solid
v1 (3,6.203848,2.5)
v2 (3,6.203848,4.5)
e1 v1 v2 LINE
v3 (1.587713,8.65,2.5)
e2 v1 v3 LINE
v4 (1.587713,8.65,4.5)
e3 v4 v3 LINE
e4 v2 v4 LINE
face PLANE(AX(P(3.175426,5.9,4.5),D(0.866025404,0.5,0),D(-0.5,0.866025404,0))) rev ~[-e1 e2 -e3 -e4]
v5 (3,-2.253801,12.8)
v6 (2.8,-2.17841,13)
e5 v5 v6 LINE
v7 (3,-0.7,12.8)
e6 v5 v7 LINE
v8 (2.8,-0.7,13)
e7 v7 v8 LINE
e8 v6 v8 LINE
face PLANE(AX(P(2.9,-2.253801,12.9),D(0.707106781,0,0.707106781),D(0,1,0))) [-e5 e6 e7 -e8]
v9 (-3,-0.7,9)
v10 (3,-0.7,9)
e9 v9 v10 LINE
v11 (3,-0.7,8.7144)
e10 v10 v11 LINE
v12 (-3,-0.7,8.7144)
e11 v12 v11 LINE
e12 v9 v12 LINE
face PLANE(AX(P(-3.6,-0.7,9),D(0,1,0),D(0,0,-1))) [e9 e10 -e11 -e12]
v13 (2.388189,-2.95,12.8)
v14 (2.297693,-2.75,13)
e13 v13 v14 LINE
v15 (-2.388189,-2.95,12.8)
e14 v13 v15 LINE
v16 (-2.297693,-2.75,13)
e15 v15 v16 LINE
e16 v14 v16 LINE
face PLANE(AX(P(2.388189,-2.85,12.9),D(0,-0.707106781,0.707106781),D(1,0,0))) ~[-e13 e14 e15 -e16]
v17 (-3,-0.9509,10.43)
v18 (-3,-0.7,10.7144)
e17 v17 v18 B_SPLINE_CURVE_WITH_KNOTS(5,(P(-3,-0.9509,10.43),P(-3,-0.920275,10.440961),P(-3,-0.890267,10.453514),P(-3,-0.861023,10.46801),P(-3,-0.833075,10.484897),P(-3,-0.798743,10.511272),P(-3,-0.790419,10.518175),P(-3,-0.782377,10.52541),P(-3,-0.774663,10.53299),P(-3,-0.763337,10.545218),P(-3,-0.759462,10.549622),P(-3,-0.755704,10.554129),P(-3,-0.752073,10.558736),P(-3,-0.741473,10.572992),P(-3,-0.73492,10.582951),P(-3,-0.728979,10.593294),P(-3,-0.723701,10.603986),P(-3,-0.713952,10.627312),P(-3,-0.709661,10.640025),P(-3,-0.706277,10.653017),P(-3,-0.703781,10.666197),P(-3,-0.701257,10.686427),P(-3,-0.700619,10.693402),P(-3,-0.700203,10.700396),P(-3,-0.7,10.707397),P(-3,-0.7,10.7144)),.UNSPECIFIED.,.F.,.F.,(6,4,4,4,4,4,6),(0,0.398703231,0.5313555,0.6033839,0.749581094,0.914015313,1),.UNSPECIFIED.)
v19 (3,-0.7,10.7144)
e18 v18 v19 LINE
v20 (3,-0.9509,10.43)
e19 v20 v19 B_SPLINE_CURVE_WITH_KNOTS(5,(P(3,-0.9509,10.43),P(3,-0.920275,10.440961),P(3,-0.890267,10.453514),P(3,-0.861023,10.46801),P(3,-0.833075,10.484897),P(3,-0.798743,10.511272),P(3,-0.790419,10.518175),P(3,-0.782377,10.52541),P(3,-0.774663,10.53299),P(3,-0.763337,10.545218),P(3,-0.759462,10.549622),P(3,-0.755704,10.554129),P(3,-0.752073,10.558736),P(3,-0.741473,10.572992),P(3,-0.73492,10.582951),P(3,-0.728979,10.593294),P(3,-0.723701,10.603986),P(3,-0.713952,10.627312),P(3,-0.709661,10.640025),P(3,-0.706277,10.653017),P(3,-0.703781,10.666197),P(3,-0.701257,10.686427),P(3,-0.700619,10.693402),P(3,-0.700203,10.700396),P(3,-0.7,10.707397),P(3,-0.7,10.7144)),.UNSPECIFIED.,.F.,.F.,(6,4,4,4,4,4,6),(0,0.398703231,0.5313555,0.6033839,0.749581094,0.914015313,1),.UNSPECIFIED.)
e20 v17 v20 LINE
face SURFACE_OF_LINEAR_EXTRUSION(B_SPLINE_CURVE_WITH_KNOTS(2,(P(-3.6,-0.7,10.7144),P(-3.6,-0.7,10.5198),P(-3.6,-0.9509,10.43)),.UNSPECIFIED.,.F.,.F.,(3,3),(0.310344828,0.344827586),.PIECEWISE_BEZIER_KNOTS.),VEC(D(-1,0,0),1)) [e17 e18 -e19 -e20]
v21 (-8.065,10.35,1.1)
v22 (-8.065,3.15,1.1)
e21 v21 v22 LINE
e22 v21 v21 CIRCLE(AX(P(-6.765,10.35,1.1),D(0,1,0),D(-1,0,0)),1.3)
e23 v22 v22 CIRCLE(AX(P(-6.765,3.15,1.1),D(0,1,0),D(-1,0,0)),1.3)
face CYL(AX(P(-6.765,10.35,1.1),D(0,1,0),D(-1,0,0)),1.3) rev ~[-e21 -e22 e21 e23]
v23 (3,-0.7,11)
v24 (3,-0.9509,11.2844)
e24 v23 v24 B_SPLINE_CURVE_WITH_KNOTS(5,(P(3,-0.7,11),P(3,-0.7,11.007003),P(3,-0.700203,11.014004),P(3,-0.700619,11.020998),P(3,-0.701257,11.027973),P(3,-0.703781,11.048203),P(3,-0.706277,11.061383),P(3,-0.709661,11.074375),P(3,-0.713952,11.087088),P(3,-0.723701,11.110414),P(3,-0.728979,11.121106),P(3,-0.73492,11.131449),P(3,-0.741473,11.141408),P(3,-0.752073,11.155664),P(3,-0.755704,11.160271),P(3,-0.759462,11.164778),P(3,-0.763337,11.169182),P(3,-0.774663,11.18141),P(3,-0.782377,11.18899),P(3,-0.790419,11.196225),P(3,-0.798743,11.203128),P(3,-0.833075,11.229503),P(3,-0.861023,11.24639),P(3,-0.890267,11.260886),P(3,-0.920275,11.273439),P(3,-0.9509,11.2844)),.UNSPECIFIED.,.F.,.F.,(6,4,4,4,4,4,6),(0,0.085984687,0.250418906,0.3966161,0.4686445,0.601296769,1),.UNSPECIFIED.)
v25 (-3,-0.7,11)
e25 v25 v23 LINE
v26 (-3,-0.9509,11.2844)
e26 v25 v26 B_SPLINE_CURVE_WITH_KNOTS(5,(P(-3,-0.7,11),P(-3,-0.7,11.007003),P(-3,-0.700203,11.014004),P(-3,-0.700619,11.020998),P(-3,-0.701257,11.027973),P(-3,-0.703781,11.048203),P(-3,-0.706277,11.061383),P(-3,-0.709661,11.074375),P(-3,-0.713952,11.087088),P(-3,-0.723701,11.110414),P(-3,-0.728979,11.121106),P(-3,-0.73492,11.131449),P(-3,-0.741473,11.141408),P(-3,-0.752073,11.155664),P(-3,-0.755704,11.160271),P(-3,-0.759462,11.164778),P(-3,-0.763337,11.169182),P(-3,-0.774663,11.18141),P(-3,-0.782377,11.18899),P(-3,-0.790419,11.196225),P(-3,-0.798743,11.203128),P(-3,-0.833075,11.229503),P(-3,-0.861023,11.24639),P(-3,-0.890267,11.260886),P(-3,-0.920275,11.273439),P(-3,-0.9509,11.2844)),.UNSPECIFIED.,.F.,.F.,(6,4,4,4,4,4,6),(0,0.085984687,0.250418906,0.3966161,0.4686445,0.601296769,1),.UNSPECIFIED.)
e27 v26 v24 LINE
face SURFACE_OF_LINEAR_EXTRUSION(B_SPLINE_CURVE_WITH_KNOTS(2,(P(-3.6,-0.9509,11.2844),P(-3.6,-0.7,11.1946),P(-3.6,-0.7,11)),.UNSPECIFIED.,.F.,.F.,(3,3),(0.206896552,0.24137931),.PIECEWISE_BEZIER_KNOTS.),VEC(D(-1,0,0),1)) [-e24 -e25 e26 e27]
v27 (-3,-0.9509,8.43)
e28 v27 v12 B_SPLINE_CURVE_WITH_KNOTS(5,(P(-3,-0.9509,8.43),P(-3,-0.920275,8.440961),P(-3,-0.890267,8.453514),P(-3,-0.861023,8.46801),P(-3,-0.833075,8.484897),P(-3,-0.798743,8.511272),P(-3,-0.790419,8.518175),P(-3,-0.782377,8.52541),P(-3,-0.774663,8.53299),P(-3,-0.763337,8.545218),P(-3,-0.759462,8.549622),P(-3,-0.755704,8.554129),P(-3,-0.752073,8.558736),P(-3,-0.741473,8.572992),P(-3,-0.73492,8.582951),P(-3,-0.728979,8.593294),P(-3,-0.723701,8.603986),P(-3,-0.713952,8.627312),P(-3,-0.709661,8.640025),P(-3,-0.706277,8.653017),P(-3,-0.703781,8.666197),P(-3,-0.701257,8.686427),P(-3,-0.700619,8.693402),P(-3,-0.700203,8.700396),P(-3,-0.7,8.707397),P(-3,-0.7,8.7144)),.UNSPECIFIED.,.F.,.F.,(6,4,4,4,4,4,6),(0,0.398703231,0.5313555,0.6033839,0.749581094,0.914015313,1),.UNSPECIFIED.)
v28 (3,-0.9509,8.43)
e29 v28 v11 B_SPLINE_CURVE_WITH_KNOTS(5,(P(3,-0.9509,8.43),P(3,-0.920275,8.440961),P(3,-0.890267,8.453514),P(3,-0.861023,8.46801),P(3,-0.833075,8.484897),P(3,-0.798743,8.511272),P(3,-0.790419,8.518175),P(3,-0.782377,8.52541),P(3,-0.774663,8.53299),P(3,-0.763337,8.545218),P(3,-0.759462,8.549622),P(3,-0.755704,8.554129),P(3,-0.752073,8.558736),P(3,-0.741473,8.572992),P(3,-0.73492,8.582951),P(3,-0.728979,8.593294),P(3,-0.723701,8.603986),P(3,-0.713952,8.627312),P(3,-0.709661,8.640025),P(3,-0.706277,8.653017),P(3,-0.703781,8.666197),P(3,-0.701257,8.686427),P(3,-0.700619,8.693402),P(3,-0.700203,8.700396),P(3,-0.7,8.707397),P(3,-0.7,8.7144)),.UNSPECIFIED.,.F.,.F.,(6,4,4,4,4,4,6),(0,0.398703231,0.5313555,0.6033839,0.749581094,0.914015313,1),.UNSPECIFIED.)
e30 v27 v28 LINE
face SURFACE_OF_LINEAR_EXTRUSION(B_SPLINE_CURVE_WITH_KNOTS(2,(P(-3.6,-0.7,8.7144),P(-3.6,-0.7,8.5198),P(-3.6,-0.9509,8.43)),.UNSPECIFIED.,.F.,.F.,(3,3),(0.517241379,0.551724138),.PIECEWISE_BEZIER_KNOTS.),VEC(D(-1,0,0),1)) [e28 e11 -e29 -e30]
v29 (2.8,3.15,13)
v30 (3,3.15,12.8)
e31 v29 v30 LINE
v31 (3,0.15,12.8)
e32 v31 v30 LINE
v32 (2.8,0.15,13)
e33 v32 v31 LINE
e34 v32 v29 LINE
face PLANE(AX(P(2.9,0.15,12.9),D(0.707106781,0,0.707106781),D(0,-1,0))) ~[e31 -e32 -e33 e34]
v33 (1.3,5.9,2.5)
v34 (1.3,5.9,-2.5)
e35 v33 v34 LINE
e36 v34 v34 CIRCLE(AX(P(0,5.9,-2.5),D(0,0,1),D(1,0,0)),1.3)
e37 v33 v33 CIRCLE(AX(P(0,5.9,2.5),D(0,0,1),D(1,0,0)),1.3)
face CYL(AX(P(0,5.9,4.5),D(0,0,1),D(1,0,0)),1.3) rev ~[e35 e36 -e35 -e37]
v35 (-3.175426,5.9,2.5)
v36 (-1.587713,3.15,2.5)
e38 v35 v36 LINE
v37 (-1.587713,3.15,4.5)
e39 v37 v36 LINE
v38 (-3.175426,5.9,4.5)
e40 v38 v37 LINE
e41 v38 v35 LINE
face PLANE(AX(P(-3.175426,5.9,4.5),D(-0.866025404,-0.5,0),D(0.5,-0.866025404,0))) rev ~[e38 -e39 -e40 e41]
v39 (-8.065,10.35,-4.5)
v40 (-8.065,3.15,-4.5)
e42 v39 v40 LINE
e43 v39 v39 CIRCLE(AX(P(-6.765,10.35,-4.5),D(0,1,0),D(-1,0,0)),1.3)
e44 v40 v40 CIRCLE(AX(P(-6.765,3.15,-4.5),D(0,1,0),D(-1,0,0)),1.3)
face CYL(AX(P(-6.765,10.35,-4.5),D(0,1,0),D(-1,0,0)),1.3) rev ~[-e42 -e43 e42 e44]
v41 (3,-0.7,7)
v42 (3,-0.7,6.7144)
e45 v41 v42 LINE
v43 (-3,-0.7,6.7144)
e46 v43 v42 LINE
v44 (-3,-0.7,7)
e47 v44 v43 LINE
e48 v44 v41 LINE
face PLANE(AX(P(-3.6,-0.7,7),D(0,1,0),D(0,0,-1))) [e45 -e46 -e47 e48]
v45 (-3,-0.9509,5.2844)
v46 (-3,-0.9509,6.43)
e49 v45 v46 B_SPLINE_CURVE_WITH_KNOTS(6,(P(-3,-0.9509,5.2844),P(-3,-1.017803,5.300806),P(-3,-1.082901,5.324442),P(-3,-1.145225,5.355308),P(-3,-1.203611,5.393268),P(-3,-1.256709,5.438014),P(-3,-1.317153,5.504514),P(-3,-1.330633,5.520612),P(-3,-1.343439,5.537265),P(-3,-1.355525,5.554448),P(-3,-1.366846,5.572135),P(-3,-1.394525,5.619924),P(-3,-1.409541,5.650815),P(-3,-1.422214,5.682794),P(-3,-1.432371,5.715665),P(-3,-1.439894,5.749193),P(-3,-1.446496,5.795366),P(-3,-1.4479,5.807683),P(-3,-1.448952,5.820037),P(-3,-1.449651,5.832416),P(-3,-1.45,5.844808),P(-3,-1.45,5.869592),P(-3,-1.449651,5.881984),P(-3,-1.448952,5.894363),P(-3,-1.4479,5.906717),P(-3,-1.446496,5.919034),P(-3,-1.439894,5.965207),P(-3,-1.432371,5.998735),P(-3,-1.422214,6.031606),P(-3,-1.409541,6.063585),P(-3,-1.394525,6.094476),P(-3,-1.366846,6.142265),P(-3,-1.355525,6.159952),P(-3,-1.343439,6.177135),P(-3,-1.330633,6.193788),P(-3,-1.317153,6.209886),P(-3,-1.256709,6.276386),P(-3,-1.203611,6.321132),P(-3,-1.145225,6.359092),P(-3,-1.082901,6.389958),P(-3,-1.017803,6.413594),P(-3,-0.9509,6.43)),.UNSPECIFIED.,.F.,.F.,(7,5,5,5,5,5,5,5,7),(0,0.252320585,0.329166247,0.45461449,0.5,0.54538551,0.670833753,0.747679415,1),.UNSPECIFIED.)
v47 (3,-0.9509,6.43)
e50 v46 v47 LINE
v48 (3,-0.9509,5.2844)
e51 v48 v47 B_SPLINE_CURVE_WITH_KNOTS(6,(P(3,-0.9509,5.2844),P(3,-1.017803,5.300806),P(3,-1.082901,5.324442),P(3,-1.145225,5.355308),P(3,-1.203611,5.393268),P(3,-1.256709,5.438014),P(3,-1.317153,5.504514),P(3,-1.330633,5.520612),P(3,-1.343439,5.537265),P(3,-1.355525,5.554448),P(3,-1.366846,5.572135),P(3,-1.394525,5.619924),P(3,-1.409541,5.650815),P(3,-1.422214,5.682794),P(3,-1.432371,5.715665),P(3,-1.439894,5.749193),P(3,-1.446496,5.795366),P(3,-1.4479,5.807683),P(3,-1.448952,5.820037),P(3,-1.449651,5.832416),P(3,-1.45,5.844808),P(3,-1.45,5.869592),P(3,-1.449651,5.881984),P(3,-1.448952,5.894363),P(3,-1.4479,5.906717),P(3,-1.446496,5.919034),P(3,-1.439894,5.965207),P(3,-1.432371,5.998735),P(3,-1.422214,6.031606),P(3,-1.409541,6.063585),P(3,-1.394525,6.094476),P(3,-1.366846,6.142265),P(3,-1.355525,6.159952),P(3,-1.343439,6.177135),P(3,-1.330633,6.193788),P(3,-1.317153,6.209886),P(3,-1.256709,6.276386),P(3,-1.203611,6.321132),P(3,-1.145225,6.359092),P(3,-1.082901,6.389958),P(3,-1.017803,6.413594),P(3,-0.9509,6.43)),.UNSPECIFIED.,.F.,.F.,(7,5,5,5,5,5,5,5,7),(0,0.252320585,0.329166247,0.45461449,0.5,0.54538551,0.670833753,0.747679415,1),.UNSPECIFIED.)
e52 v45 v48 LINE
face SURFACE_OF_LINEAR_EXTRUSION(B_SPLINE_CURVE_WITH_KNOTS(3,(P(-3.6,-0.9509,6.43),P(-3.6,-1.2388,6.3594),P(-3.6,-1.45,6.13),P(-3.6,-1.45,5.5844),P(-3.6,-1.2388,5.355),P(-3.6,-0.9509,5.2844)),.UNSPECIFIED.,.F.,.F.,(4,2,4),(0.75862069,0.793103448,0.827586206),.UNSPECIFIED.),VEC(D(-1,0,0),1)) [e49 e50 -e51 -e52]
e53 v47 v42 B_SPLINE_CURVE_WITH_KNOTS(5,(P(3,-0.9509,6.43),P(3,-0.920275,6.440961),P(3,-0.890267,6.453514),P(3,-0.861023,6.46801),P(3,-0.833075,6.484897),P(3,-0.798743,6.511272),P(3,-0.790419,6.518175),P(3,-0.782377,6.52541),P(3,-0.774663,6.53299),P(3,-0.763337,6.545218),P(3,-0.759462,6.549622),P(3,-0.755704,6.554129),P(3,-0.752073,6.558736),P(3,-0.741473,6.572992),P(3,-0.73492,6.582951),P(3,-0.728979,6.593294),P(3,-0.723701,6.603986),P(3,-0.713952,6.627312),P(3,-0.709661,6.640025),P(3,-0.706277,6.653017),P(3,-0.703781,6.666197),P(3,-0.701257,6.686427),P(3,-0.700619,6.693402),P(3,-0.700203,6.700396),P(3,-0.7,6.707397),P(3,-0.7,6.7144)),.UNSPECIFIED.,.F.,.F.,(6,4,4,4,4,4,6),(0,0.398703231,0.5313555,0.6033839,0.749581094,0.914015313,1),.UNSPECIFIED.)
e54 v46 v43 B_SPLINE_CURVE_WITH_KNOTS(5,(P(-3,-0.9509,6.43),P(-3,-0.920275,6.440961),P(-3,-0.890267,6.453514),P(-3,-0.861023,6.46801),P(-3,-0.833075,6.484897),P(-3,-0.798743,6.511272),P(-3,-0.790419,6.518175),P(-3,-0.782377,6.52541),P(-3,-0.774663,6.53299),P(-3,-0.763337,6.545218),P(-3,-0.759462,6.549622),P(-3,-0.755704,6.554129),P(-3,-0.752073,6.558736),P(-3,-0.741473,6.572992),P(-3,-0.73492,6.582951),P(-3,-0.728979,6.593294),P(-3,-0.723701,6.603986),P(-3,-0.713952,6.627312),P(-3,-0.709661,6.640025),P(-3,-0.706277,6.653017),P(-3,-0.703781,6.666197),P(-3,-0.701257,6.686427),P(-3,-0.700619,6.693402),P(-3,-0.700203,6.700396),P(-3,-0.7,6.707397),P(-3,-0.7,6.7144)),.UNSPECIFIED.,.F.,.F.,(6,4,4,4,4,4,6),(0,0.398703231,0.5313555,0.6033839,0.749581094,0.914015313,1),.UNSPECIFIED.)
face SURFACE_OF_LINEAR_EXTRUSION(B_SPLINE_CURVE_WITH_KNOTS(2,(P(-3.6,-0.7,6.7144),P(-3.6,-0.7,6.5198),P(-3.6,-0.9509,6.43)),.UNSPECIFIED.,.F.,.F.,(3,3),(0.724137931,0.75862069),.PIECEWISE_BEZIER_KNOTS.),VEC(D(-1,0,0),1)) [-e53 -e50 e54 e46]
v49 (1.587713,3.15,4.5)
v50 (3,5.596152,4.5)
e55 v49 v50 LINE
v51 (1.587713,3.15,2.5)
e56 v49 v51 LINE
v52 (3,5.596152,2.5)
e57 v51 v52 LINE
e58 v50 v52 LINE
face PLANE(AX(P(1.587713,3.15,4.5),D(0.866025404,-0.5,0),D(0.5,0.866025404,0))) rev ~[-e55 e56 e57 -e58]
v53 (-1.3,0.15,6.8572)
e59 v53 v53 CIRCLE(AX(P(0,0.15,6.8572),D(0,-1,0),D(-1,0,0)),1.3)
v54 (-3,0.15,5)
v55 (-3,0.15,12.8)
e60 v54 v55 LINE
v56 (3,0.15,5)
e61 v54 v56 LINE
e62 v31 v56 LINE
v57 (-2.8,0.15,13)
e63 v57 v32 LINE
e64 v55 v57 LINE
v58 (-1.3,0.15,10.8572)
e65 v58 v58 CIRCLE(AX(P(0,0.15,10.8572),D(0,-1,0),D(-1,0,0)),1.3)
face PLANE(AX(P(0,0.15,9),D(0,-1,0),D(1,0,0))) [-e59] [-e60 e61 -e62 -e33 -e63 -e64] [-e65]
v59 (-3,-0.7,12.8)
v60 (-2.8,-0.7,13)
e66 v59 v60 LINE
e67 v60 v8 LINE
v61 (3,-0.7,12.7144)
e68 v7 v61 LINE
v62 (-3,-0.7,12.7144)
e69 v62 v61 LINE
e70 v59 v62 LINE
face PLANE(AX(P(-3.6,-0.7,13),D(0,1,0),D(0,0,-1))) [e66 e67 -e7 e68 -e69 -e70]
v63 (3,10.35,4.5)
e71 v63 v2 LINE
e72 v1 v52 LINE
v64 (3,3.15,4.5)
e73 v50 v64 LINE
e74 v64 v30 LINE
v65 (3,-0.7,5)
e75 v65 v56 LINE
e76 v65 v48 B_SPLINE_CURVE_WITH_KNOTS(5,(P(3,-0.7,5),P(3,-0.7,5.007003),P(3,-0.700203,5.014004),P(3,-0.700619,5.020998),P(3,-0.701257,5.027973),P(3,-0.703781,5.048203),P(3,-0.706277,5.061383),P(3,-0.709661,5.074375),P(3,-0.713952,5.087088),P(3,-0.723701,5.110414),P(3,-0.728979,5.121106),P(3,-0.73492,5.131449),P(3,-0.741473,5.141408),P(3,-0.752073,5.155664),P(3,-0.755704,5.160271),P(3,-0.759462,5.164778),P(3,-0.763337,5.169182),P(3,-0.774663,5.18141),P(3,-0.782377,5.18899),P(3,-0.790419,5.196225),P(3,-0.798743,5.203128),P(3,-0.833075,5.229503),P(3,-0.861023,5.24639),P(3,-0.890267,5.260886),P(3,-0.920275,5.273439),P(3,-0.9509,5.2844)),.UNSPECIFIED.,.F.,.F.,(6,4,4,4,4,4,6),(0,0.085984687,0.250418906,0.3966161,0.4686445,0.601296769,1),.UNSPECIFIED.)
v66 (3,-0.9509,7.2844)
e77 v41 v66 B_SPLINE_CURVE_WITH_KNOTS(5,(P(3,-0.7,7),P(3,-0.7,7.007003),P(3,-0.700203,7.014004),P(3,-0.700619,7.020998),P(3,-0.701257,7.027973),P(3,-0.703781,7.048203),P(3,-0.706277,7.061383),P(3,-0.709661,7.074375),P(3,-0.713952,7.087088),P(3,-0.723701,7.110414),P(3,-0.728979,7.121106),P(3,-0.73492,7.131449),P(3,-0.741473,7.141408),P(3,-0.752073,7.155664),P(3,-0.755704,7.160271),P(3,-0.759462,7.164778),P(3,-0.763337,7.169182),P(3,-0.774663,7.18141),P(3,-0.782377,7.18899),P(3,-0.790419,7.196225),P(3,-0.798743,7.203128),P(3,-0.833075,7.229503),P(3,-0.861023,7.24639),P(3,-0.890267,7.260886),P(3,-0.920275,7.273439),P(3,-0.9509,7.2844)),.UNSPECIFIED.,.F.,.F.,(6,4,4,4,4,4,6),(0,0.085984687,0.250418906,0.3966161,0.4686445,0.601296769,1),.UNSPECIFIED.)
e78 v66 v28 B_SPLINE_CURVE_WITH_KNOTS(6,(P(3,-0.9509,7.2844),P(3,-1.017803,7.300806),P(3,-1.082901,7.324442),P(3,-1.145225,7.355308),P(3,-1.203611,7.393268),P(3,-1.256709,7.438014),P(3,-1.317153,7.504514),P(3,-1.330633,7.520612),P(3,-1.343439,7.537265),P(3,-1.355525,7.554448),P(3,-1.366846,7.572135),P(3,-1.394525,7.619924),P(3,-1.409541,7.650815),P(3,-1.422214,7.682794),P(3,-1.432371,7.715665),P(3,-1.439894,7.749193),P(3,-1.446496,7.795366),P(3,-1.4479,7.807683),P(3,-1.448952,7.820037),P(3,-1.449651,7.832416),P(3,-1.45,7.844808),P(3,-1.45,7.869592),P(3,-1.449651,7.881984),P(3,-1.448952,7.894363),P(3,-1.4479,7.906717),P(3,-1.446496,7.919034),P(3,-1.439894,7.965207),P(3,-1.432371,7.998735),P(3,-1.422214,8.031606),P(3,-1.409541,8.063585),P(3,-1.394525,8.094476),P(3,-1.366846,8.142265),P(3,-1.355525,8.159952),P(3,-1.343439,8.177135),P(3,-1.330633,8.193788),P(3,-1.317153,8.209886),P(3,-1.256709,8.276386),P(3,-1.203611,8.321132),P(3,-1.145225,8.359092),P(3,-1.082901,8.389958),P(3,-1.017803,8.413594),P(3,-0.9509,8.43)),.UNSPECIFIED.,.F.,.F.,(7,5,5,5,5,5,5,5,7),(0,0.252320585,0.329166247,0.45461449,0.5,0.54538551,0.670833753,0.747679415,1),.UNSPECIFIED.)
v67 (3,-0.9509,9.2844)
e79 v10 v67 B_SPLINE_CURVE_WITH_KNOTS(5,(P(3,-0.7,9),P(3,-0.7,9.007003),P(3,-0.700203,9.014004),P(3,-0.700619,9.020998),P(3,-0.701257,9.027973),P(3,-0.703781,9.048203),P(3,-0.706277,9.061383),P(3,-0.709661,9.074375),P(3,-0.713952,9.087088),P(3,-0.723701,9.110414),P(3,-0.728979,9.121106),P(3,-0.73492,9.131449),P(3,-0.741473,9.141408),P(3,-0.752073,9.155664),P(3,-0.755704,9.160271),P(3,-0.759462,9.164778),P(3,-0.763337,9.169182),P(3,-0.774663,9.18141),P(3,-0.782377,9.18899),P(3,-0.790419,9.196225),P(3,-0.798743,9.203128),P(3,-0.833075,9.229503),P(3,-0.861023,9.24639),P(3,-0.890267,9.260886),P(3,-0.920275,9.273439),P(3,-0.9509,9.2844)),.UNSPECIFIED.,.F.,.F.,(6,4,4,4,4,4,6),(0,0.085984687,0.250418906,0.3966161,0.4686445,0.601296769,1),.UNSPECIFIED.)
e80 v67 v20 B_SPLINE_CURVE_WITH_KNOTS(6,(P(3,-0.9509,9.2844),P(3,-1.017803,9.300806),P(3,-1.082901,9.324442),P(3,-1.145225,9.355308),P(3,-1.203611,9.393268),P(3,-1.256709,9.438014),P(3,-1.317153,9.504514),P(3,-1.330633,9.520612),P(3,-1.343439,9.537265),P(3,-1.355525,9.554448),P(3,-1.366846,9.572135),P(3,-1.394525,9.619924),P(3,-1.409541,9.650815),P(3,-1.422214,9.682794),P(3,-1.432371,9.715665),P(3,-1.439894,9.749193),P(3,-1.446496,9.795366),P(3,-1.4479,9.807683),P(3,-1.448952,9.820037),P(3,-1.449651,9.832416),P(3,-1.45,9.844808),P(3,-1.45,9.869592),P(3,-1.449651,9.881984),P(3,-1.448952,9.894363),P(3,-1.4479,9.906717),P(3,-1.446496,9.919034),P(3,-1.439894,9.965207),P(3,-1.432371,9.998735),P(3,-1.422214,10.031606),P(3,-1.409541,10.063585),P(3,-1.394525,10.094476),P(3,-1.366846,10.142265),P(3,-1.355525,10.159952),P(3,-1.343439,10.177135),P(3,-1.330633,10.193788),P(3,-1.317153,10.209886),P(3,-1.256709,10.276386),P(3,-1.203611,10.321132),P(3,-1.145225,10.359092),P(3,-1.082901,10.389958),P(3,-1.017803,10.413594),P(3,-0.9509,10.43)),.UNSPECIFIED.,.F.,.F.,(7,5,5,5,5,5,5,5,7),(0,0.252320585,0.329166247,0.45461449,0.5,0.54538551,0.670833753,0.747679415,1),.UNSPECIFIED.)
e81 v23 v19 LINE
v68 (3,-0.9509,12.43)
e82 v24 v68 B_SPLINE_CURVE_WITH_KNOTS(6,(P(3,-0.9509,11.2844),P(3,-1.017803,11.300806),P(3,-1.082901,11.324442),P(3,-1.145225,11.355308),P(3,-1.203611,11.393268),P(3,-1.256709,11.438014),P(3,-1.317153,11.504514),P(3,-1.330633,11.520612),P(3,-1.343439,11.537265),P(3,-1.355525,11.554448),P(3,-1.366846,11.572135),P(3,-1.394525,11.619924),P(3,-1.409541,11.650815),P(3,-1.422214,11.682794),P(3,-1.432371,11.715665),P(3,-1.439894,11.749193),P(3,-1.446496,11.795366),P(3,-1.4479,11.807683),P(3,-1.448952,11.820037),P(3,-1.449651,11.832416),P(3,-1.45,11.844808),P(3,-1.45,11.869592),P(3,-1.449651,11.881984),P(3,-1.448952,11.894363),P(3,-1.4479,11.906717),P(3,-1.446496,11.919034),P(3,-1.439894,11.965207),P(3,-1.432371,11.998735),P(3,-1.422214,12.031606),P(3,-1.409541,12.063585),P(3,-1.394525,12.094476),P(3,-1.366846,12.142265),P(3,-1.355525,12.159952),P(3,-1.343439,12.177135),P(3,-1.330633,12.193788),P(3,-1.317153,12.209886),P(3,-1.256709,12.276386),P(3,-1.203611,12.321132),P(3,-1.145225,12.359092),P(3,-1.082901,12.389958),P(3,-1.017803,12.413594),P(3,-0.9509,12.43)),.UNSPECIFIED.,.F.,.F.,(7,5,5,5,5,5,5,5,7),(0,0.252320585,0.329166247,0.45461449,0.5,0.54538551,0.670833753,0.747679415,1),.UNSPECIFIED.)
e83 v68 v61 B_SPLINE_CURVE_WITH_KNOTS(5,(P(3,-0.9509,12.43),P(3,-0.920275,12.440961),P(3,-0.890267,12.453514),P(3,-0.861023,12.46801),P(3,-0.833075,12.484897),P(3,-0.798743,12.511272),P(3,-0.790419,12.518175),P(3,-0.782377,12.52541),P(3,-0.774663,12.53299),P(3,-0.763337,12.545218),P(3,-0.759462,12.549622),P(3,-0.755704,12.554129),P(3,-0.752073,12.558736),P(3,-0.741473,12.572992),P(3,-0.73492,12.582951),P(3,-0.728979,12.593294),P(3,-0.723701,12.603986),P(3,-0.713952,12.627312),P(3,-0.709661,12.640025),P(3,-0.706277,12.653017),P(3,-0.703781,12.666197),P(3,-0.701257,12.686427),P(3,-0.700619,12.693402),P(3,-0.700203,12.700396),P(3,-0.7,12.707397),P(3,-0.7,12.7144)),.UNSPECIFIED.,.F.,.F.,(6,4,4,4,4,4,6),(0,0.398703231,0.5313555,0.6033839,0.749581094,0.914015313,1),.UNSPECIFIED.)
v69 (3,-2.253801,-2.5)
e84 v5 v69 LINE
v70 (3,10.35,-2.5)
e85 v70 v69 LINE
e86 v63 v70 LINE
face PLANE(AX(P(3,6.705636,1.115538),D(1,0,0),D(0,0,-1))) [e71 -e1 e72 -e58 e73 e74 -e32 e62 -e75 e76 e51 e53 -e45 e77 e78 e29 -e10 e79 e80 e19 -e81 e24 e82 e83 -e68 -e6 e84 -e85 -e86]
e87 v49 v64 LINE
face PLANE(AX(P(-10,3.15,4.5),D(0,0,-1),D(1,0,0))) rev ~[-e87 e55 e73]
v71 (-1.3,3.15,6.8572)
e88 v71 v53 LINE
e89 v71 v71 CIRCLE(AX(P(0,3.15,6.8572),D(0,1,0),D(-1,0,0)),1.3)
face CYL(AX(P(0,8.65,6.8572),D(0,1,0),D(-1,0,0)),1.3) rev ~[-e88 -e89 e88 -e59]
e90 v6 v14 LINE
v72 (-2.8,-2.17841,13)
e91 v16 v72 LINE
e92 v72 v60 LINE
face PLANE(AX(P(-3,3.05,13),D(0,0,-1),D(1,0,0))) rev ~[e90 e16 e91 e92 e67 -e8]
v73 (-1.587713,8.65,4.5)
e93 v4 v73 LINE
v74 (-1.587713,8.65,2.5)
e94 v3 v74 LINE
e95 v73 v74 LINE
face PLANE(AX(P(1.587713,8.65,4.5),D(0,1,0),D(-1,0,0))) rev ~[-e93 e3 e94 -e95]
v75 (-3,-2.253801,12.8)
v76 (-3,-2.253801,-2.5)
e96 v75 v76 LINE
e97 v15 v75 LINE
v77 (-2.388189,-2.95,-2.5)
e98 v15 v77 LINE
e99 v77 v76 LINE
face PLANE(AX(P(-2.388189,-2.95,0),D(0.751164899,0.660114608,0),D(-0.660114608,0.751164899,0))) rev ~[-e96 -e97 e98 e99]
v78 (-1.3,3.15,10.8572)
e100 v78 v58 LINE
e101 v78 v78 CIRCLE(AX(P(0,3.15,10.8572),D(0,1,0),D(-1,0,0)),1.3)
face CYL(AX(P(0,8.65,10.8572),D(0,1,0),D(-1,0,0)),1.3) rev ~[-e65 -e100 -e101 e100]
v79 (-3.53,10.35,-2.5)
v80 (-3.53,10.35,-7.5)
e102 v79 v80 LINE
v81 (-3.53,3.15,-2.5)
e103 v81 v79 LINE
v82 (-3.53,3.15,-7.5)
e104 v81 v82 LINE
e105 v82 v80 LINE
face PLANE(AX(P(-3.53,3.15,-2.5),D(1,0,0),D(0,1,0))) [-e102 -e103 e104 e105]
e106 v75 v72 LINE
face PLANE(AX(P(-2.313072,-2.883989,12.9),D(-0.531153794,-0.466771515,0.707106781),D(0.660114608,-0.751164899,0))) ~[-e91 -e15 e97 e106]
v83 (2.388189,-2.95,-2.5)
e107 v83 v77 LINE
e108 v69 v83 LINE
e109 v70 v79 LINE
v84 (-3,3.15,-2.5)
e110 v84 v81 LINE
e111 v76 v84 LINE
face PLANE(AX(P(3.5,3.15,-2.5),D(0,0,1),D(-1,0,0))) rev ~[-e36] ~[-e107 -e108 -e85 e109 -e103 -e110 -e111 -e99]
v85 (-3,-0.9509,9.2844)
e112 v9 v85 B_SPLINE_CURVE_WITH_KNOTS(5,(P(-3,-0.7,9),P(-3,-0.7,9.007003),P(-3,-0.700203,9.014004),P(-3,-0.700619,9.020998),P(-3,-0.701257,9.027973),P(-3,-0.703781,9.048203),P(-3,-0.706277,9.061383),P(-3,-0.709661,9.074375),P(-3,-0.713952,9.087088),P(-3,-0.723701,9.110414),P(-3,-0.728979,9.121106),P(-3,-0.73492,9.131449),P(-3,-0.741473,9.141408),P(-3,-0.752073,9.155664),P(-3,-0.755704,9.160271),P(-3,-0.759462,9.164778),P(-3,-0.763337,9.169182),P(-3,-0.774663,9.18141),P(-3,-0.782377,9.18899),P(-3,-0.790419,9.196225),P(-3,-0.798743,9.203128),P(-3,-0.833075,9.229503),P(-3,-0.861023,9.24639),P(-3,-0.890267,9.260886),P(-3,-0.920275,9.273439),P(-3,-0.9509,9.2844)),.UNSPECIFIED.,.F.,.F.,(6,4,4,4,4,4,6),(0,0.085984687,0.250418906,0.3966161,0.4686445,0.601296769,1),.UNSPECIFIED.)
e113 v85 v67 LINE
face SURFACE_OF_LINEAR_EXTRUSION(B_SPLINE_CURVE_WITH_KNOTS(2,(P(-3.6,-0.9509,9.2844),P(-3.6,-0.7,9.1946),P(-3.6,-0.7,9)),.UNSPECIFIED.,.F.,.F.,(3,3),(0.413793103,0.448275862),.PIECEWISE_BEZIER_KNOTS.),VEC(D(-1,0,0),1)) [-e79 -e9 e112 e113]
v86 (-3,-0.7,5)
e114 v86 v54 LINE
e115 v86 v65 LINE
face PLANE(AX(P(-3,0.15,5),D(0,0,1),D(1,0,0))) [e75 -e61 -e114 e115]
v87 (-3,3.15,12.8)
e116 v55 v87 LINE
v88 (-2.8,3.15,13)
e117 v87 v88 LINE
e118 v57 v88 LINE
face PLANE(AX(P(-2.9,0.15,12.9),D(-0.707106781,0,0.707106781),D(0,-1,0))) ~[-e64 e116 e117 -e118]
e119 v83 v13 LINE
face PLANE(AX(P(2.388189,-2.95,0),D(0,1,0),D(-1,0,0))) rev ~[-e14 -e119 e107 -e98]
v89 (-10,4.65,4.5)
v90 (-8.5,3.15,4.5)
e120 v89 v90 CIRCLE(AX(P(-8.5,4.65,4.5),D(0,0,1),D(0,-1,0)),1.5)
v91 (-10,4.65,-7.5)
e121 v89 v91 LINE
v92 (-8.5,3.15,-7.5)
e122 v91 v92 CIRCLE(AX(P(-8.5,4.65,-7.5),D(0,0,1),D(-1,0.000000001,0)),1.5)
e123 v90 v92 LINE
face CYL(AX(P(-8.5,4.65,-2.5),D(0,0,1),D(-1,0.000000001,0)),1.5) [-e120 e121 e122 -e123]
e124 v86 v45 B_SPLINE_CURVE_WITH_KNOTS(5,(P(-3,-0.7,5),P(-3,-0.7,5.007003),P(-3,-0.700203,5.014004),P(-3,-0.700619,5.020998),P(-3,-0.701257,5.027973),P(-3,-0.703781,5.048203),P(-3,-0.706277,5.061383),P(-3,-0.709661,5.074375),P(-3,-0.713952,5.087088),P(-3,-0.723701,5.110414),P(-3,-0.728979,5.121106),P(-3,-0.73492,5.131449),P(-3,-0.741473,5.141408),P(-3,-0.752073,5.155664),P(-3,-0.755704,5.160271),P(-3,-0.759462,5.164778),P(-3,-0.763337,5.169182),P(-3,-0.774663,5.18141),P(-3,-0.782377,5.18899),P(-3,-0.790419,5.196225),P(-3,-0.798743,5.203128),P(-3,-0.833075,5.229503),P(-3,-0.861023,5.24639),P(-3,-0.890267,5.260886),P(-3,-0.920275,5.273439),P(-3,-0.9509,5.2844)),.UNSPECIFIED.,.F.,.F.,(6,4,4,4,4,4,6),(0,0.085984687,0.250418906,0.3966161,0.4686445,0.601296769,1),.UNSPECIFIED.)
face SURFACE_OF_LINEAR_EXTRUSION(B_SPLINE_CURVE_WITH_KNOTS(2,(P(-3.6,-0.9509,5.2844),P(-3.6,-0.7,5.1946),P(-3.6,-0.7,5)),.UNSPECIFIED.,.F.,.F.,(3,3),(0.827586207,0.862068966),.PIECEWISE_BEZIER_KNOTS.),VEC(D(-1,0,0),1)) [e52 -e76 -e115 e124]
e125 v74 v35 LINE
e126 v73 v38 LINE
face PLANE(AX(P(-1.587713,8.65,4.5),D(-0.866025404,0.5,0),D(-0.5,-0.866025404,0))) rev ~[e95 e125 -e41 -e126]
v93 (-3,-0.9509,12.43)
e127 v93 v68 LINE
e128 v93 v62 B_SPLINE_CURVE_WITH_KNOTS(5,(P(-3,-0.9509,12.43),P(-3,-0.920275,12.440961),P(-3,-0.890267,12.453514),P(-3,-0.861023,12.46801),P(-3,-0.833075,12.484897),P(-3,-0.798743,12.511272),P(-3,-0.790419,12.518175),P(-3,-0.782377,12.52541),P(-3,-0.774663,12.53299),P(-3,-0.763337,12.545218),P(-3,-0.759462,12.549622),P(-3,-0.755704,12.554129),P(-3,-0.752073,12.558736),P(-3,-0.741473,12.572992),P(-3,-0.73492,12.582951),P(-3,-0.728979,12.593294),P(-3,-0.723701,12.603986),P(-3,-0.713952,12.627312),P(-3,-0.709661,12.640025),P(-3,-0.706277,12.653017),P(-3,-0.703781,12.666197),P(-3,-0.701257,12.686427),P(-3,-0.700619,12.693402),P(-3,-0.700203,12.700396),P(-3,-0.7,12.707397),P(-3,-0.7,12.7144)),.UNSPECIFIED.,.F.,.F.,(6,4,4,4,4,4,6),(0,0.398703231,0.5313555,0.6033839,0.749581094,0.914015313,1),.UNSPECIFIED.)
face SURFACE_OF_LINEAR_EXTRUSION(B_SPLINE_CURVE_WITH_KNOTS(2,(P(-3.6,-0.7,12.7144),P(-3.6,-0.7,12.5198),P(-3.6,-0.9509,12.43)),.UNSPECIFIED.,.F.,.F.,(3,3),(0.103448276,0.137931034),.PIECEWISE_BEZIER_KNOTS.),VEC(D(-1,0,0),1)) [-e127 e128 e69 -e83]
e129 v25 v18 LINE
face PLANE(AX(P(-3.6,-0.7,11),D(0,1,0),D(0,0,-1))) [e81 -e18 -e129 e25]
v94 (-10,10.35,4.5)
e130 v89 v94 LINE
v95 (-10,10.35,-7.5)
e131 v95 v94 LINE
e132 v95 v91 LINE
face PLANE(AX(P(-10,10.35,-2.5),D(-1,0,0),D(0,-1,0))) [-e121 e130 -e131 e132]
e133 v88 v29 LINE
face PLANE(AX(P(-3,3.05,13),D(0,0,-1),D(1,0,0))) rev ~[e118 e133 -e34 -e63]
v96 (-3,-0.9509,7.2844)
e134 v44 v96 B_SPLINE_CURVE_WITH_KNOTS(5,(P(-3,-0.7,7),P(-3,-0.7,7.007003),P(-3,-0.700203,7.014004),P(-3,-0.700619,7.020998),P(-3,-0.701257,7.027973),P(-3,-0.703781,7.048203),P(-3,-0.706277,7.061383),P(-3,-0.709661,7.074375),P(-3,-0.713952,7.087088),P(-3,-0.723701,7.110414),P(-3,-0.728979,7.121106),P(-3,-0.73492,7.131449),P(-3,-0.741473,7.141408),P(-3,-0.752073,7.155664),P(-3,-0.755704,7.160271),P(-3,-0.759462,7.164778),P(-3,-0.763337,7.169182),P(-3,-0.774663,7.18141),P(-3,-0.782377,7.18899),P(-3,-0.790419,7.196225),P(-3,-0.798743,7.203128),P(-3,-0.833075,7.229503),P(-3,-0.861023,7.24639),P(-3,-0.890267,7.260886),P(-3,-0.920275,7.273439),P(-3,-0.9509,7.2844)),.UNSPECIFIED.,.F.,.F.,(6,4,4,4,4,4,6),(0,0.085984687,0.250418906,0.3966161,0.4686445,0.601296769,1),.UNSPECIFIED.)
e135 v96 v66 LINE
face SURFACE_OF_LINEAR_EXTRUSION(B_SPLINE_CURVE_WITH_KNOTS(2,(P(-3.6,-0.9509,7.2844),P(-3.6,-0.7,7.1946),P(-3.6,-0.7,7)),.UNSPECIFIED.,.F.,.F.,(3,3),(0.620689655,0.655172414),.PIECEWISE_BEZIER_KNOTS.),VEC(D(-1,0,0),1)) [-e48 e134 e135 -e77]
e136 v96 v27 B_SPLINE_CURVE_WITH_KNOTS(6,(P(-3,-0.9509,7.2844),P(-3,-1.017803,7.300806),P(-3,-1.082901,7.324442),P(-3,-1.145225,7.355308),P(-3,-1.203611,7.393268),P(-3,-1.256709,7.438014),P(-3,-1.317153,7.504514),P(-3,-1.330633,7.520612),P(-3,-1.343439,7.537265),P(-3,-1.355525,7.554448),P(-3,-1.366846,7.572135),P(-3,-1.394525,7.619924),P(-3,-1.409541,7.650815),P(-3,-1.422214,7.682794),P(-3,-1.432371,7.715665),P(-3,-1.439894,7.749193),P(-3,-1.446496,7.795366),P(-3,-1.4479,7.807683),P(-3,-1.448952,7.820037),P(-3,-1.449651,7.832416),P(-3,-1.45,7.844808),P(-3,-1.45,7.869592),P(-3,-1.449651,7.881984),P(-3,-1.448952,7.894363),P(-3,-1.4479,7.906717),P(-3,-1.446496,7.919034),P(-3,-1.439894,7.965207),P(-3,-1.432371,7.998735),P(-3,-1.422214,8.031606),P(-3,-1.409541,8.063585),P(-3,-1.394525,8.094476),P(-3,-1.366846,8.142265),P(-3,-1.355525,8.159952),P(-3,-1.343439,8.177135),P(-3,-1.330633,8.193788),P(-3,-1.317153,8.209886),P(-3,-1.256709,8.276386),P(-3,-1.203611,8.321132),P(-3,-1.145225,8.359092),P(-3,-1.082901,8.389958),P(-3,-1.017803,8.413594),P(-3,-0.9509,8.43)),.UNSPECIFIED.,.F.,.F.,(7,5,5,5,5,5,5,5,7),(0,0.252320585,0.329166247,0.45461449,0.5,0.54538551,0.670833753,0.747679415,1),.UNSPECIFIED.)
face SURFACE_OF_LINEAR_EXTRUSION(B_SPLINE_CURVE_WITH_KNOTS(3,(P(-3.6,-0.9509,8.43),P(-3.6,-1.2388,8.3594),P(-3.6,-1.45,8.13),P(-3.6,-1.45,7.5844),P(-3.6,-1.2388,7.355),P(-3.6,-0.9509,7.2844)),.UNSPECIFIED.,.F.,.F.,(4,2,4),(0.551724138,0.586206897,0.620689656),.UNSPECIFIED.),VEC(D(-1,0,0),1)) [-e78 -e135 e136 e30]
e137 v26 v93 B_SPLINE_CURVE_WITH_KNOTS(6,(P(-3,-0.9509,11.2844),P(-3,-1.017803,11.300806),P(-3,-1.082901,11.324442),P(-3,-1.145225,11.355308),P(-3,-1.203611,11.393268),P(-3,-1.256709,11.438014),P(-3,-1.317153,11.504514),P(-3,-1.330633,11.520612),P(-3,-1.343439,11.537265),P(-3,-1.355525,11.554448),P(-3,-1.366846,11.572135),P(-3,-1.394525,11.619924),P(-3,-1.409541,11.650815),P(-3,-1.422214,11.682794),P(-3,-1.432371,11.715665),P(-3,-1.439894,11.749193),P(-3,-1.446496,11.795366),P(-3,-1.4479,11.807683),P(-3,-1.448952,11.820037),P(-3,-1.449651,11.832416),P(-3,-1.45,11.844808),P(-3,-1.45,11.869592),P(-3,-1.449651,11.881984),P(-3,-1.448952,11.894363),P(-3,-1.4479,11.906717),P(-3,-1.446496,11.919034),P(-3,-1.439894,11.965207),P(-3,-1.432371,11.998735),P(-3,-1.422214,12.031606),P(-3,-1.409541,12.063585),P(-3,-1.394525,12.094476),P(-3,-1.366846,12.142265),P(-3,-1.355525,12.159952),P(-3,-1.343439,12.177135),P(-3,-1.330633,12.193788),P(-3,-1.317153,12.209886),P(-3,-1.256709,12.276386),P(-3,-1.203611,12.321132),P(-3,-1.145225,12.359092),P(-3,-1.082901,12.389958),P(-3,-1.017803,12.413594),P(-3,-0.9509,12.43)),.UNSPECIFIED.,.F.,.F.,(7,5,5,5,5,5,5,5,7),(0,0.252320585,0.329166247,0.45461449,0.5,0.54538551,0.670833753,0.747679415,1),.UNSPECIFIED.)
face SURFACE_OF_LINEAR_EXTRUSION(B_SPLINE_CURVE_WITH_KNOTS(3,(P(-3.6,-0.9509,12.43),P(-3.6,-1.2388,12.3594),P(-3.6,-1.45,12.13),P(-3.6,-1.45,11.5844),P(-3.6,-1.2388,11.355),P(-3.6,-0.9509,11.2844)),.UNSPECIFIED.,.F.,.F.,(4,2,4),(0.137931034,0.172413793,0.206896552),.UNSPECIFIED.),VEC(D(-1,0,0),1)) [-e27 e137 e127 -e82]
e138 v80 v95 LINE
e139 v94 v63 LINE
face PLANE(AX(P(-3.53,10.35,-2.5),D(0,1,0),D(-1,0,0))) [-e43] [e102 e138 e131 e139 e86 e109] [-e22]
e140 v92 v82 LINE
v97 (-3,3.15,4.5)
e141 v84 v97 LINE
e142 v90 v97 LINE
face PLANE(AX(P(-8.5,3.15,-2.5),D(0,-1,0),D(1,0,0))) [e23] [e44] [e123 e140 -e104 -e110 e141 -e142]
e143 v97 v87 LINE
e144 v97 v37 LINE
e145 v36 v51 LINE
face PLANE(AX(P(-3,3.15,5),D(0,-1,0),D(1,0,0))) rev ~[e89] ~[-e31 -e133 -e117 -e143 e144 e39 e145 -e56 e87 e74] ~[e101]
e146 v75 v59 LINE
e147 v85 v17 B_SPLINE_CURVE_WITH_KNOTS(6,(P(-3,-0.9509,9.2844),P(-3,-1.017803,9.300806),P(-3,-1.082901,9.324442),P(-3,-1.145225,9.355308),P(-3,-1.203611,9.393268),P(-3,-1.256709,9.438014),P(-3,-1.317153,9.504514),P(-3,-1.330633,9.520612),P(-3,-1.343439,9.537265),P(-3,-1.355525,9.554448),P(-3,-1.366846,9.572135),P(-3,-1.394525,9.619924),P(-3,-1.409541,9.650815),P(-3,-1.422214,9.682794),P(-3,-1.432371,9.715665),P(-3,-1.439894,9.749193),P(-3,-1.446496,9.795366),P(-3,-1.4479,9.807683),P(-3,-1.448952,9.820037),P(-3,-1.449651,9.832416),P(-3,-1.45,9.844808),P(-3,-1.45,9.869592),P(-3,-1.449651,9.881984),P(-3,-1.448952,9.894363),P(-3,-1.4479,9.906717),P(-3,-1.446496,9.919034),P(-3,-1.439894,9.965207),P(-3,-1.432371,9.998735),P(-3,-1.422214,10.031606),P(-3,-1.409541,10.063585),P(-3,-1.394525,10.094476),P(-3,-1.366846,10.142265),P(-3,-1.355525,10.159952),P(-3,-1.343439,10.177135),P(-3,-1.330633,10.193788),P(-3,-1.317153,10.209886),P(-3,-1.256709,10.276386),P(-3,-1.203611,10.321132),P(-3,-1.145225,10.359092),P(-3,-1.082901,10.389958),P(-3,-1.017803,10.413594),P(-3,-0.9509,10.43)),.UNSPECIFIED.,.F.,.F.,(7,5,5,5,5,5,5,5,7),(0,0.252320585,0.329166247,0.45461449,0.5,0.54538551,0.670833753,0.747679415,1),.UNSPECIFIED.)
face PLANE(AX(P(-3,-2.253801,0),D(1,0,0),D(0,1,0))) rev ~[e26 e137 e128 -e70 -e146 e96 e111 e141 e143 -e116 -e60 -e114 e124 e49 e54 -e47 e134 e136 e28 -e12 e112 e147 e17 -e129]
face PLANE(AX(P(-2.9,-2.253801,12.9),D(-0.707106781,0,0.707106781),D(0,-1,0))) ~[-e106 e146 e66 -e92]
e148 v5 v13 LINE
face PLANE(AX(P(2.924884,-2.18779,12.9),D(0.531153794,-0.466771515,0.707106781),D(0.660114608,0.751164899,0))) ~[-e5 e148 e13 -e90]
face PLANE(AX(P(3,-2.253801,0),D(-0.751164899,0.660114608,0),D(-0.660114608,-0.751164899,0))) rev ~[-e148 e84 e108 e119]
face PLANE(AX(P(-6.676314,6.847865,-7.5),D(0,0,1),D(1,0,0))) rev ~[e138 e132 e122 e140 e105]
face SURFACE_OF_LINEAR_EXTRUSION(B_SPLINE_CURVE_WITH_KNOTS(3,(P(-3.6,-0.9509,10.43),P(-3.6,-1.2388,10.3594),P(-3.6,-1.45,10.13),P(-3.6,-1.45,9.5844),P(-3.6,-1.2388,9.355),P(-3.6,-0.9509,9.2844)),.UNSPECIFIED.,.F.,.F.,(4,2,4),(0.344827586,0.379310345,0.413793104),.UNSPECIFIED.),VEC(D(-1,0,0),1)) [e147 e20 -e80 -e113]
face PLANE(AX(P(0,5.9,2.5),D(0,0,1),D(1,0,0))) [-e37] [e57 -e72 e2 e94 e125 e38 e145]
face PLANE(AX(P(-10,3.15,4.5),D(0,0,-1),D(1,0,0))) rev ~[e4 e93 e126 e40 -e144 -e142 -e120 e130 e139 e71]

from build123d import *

# Parameters (mm, degrees)
BOSS_EXTRUDE1_DEPTH     = 13
SKETCH6_W               = 6
SKETCH6_H               = 5
BOSS_EXTRUDE4_DEPTH     = 5.6
SKETCH16_W              = 6
SKETCH16_H              = 8
BOSS_EXTRUDE5_DEPTH     = 0.1
CUT_EXTRUDE6_DEPTH      = 4
CUT_EXTRUDE6_DEPTH_BACK = 3.6
SKETCH15_R              = 1.3
CUT_EXTRUDE7_DEPTH      = 8.7202
CUT_EXTRUDE8_START      = -0.2202
SKETCH19_W              = 6
SKETCH19_H              = 8
SKETCH19_R              = 1.3
CUT_EXTRUDE8_DEPTH      = 0.2202
SKETCH12_R              = 1.2
CUT_EXTRUDE5_DEPTH      = 6
SKETCH21_R              = 1.2
BOSS_EXTRUDE6_DEPTH     = 2.5
SKETCH24_W              = 6
SKETCH24_H              = 5.5
CUT_EXTRUDE10_DEPTH     = 8.5
BOSS_EXTRUDE8_DEPTH     = 7.2
FILLET4_R               = 1.5
SKETCH26_R              = 1.3
CUT_EXTRUDE11_DEPTH     = 10
CHAMFER1_SIZE           = 0.2
BOSS_EXTRUDE9_DEPTH     = 5
SKETCH31_R              = 1.3
CUT_EXTRUDE12_DEPTH     = 8
CROQUIS1_W              = 20.968017067
CROQUIS1_H              = 19.092350392
CORTAR_EXTRUIR1_DEPTH   = 0.5
CORTAR_EXTRUIR2_DEPTH   = 2


with BuildPart() as part:
    # Sketch1 → Boss-Extrude1 (new body)
    with BuildSketch(Plane.XY):
        Polygon((3, 3.05), (3, -2.253801214), (2.388188946, -2.95), (-2.388188946, -2.95), (-3, -2.253801214), (-3, 3.05), align=None)
    extrude(amount=BOSS_EXTRUDE1_DEPTH)

    # Sketch6 → Boss-Extrude4 (add)
    with BuildSketch(Plane(origin=(0, 3.05, 0), x_dir=(1, 0, 0), z_dir=(0, 1, 0))):
        with Locations((0, -2.5)):
            Rectangle(SKETCH6_W, SKETCH6_H)
    extrude(amount=BOSS_EXTRUDE4_DEPTH)

    # Sketch16 → Boss-Extrude5 (add)
    with BuildSketch(Plane(origin=(0, 3.05, 0), x_dir=(1, 0, 0), z_dir=(0, 1, 0))):
        with Locations((0, -9)):
            Rectangle(SKETCH16_W, SKETCH16_H)
    extrude(amount=BOSS_EXTRUDE5_DEPTH)

    # Sketch18 → Cut-Extrude6 (cut, two sides: drawn at the far end of the back side and taken through both)
    with BuildSketch(Plane(origin=(0, 0, 0), x_dir=(0, 0, -1), z_dir=(1, 0, 0)).offset(-CUT_EXTRUDE6_DEPTH_BACK)):
        with BuildLine():
            Line((-8.8572, -0.0702), (-12.8572, -0.0702))
            Line((-12.8572, -0.0702), (-13, -0.0702))
            Line((-13, -0.0702), (-13, -0.7))
            Line((-13, -0.7), (-12.8572, -0.7))
            Line((-12.8572, -0.7), (-12.7144, -0.7))
            add(Edge.make_bspline(
                [(-12.7144, -0.7), (-12.5198, -0.7), (-12.43, -0.9509)],
                knots=[0.103448276, 0.103448276, 0.103448276, 0.137931034, 0.137931034, 0.137931034], degree=2))
            add(Edge.make_bspline(
                [(-12.43, -0.9509), (-12.3594, -1.2388), (-12.13, -1.45), (-11.8572, -1.45)],
                knots=[0.137931034, 0.137931034, 0.137931034, 0.137931034, 0.172413793, 0.172413793, 0.172413793, 0.172413793], degree=3))
            add(Edge.make_bspline(
                [(-11.8572, -1.45), (-11.5844, -1.45), (-11.355, -1.2388), (-11.2844, -0.9509)],
                knots=[0.172413793, 0.172413793, 0.172413793, 0.172413793, 0.206896552, 0.206896552, 0.206896552, 0.206896552], degree=3))
            add(Edge.make_bspline(
                [(-11.2844, -0.9509), (-11.1946, -0.7), (-11, -0.7)],
                knots=[0.206896552, 0.206896552, 0.206896552, 0.24137931, 0.24137931, 0.24137931], degree=2))
            Line((-11, -0.7), (-10.8572, -0.7))
            Line((-10.8572, -0.7), (-10.7144, -0.7))
            add(Edge.make_bspline(
                [(-10.7144, -0.7), (-10.5198, -0.7), (-10.43, -0.9509)],
                knots=[0.310344828, 0.310344828, 0.310344828, 0.344827586, 0.344827586, 0.344827586], degree=2))
            add(Edge.make_bspline(
                [(-10.43, -0.9509), (-10.3594, -1.2388), (-10.13, -1.45), (-9.8572, -1.45)],
                knots=[0.344827586, 0.344827586, 0.344827586, 0.344827586, 0.379310345, 0.379310345, 0.379310345, 0.379310345], degree=3))
            add(Edge.make_bspline(
                [(-9.8572, -1.45), (-9.5844, -1.45), (-9.355, -1.2388), (-9.2844, -0.9509)],
                knots=[0.379310345, 0.379310345, 0.379310345, 0.379310345, 0.413793103, 0.413793103, 0.413793103, 0.413793103], degree=3))
            add(Edge.make_bspline(
                [(-9.2844, -0.9509), (-9.1946, -0.7), (-9, -0.7)],
                knots=[0.413793103, 0.413793103, 0.413793103, 0.448275862, 0.448275862, 0.448275862], degree=2))
            Line((-9, -0.7), (-8.8572, -0.7))
            Line((-8.8572, -0.7), (-8.7144, -0.7))
            add(Edge.make_bspline(
                [(-8.7144, -0.7), (-8.5198, -0.7), (-8.43, -0.9509)],
                knots=[0.517241379, 0.517241379, 0.517241379, 0.551724138, 0.551724138, 0.551724138], degree=2))
            add(Edge.make_bspline(
                [(-8.43, -0.9509), (-8.3594, -1.2388), (-8.13, -1.45), (-7.8572, -1.45)],
                knots=[0.551724138, 0.551724138, 0.551724138, 0.551724138, 0.586206897, 0.586206897, 0.586206897, 0.586206897], degree=3))
            add(Edge.make_bspline(
                [(-7.8572, -1.45), (-7.5844, -1.45), (-7.355, -1.2388), (-7.2844, -0.9509)],
                knots=[0.586206897, 0.586206897, 0.586206897, 0.586206897, 0.620689655, 0.620689655, 0.620689655, 0.620689655], degree=3))
            add(Edge.make_bspline(
                [(-7.2844, -0.9509), (-7.1946, -0.7), (-7, -0.7)],
                knots=[0.620689655, 0.620689655, 0.620689655, 0.655172414, 0.655172414, 0.655172414], degree=2))
            Line((-7, -0.7), (-6.8572, -0.7))
            Line((-6.8572, -0.7), (-6.7144, -0.7))
            add(Edge.make_bspline(
                [(-6.7144, -0.7), (-6.5198, -0.7), (-6.43, -0.9509)],
                knots=[0.724137931, 0.724137931, 0.724137931, 0.75862069, 0.75862069, 0.75862069], degree=2))
            add(Edge.make_bspline(
                [(-6.43, -0.9509), (-6.3594, -1.2388), (-6.13, -1.45), (-5.8572, -1.45)],
                knots=[0.75862069, 0.75862069, 0.75862069, 0.75862069, 0.793103448, 0.793103448, 0.793103448, 0.793103448], degree=3))
            add(Edge.make_bspline(
                [(-5.8572, -1.45), (-5.5844, -1.45), (-5.355, -1.2388), (-5.2844, -0.9509)],
                knots=[0.793103448, 0.793103448, 0.793103448, 0.793103448, 0.827586207, 0.827586207, 0.827586207, 0.827586207], degree=3))
            add(Edge.make_bspline(
                [(-5.2844, -0.9509), (-5.1946, -0.7), (-5, -0.7)],
                knots=[0.827586207, 0.827586207, 0.827586207, 0.862068966, 0.862068966, 0.862068966], degree=2))
            Line((-5, -0.7), (-5, -0.0702))
            Line((-5, -0.0702), (-8.8572, -0.0702))
        make_face()
    extrude(amount=CUT_EXTRUDE6_DEPTH + CUT_EXTRUDE6_DEPTH_BACK, mode=Mode.SUBTRACT)

    # Sketch15 → Cut-Extrude7 (cut)
    with BuildSketch(Plane(origin=(0, 8.65, 0), x_dir=(1, 0, 0), z_dir=(0, 1, 0))):
        with Locations(Location((0, -10.8572, 0), (0, 0, 180))):
            Circle(SKETCH15_R)
        with Locations(Location((0, -6.8572, 0), (0, 0, 180))):
            Circle(SKETCH15_R)
    extrude(amount=-CUT_EXTRUDE7_DEPTH, mode=Mode.SUBTRACT)

    # Sketch19 → Cut-Extrude8 (cut)
    with BuildSketch(Plane.XZ.offset(0.0702).offset(CUT_EXTRUDE8_START)):
        with Locations((0, 9)):
            Rectangle(SKETCH19_W, SKETCH19_H)
        with Locations(Location((0, 10.8572, 0), (0, 0, 180))):
            Circle(SKETCH19_R, mode=Mode.SUBTRACT)
        with Locations(Location((0, 6.8572, 0), (0, 0, 180))):
            Circle(SKETCH19_R, mode=Mode.SUBTRACT)
    extrude(amount=CUT_EXTRUDE8_DEPTH, mode=Mode.SUBTRACT)

    # Sketch12 → Cut-Extrude5 (cut)
    with BuildSketch(Plane.XY.offset(5)):
        with Locations((0, 5.85)):
            Circle(SKETCH12_R)
    extrude(amount=-CUT_EXTRUDE5_DEPTH, mode=Mode.SUBTRACT)

    # Sketch21 → Boss-Extrude6 (add)
    with BuildSketch(Plane(origin=(0, 0, 0), x_dir=(-1, 0, 0), z_dir=(0, 0, -1))):
        Polygon((-2.388188946, -2.95), (2.388188946, -2.95), (3, -2.253801214), (3, 8.65), (-3, 8.65), (-3, -2.253801214), align=None)
        with Locations(Location((0, 5.85, 0), (0, 0, 180))):
            Circle(SKETCH21_R, mode=Mode.SUBTRACT)
    extrude(amount=BOSS_EXTRUDE6_DEPTH)

    # Sketch24 → Cut-Extrude10 (cut)
    with BuildSketch(Plane.XY.offset(5)):
        with Locations((0, 5.9)):
            Rectangle(SKETCH24_W, SKETCH24_H)
    extrude(amount=-CUT_EXTRUDE10_DEPTH, mode=Mode.SUBTRACT)

    # Sketch25 → Boss-Extrude8 (add)
    with BuildSketch(Plane(origin=(0, 3.15, 0), x_dir=(1, 0, 0), z_dir=(0, 1, 0))):
        Polygon((-10, -4.5), (0, -4.5), (3.5, -4.5), (3.5, 2.5), (-10, 2.5), align=None)
    extrude(amount=BOSS_EXTRUDE8_DEPTH)

    # Fillet4
    fillet4_edges = [part.edges().sort_by_distance(p)[0] for p in [
        (-10, 3.15, 1),
    ]]
    fillet(fillet4_edges, radius=FILLET4_R)

    # Sketch26 → Cut-Extrude11 (cut)
    with BuildSketch(Plane.XY.offset(4.5)):
        with Locations((0, 5.9)):
            Circle(SKETCH26_R)
    extrude(amount=-CUT_EXTRUDE11_DEPTH, mode=Mode.SUBTRACT)

    # Chamfer1
    chamfer1_edges = [part.edges().sort_by_distance(p)[0] for p in [
        (-2.694094473, -2.601900607, 13),
        (0, -2.95, 13),
        (2.694094473, -2.601900607, 13),
        (3, 1.65, 13),
        (3, -1.476900607, 13),
        (-3, -1.476900607, 13),
        (-3, 1.65, 13),
    ]]
    chamfer(chamfer1_edges, length=CHAMFER1_SIZE)

    # Sketch29 → Boss-Extrude9 (add)
    with BuildSketch(Plane(origin=(0, 0, -2.5), x_dir=(-1, 0, 0), z_dir=(0, 0, -1))):
        with BuildLine():
            Line((3.53, 3.15), (3.53, 10.35))
            Line((3.53, 10.35), (10, 10.35))
            Line((10, 10.35), (10, 4.65))
            ThreePointArc((10, 4.65), (9.560660172, 3.589339828), (8.5, 3.15))
            Line((8.5, 3.15), (3.53, 3.15))
        make_face()
    extrude(amount=BOSS_EXTRUDE9_DEPTH)

    # Sketch31 → Cut-Extrude12 (cut)
    with BuildSketch(Plane(origin=(0, 10.35, 0), x_dir=(1, 0, 0), z_dir=(0, 1, 0))):
        with Locations(Location((-6.765, 4.5, 0), (0, 0, 180))):
            Circle(SKETCH31_R)
        with Locations(Location((-6.765, -1.1, 0), (0, 0, 180))):
            Circle(SKETCH31_R)
    extrude(amount=-CUT_EXTRUDE12_DEPTH, mode=Mode.SUBTRACT)

    # Croquis1 → Cortar-Extruir1 (cut)
    with BuildSketch(Plane(origin=(3.5, 0, 0), x_dir=(0, 0, -1), z_dir=(1, 0, 0))):
        with Locations((-1.115538408, 6.705636454)):
            Rectangle(CROQUIS1_W, CROQUIS1_H)
    extrude(amount=-CORTAR_EXTRUIR1_DEPTH, mode=Mode.SUBTRACT)

    # Croquis2 → Cortar-Extruir2 (cut)
    with BuildSketch(Plane.XY.offset(4.5)):
        Polygon((1.58771324, 8.65), (-1.58771324, 8.65), (-3.175426481, 5.9), (-1.58771324, 3.15), (1.58771324, 3.15), (3.175426481, 5.9), align=None)
    extrude(amount=-CORTAR_EXTRUIR2_DEPTH, mode=Mode.SUBTRACT)


solid = part.part
